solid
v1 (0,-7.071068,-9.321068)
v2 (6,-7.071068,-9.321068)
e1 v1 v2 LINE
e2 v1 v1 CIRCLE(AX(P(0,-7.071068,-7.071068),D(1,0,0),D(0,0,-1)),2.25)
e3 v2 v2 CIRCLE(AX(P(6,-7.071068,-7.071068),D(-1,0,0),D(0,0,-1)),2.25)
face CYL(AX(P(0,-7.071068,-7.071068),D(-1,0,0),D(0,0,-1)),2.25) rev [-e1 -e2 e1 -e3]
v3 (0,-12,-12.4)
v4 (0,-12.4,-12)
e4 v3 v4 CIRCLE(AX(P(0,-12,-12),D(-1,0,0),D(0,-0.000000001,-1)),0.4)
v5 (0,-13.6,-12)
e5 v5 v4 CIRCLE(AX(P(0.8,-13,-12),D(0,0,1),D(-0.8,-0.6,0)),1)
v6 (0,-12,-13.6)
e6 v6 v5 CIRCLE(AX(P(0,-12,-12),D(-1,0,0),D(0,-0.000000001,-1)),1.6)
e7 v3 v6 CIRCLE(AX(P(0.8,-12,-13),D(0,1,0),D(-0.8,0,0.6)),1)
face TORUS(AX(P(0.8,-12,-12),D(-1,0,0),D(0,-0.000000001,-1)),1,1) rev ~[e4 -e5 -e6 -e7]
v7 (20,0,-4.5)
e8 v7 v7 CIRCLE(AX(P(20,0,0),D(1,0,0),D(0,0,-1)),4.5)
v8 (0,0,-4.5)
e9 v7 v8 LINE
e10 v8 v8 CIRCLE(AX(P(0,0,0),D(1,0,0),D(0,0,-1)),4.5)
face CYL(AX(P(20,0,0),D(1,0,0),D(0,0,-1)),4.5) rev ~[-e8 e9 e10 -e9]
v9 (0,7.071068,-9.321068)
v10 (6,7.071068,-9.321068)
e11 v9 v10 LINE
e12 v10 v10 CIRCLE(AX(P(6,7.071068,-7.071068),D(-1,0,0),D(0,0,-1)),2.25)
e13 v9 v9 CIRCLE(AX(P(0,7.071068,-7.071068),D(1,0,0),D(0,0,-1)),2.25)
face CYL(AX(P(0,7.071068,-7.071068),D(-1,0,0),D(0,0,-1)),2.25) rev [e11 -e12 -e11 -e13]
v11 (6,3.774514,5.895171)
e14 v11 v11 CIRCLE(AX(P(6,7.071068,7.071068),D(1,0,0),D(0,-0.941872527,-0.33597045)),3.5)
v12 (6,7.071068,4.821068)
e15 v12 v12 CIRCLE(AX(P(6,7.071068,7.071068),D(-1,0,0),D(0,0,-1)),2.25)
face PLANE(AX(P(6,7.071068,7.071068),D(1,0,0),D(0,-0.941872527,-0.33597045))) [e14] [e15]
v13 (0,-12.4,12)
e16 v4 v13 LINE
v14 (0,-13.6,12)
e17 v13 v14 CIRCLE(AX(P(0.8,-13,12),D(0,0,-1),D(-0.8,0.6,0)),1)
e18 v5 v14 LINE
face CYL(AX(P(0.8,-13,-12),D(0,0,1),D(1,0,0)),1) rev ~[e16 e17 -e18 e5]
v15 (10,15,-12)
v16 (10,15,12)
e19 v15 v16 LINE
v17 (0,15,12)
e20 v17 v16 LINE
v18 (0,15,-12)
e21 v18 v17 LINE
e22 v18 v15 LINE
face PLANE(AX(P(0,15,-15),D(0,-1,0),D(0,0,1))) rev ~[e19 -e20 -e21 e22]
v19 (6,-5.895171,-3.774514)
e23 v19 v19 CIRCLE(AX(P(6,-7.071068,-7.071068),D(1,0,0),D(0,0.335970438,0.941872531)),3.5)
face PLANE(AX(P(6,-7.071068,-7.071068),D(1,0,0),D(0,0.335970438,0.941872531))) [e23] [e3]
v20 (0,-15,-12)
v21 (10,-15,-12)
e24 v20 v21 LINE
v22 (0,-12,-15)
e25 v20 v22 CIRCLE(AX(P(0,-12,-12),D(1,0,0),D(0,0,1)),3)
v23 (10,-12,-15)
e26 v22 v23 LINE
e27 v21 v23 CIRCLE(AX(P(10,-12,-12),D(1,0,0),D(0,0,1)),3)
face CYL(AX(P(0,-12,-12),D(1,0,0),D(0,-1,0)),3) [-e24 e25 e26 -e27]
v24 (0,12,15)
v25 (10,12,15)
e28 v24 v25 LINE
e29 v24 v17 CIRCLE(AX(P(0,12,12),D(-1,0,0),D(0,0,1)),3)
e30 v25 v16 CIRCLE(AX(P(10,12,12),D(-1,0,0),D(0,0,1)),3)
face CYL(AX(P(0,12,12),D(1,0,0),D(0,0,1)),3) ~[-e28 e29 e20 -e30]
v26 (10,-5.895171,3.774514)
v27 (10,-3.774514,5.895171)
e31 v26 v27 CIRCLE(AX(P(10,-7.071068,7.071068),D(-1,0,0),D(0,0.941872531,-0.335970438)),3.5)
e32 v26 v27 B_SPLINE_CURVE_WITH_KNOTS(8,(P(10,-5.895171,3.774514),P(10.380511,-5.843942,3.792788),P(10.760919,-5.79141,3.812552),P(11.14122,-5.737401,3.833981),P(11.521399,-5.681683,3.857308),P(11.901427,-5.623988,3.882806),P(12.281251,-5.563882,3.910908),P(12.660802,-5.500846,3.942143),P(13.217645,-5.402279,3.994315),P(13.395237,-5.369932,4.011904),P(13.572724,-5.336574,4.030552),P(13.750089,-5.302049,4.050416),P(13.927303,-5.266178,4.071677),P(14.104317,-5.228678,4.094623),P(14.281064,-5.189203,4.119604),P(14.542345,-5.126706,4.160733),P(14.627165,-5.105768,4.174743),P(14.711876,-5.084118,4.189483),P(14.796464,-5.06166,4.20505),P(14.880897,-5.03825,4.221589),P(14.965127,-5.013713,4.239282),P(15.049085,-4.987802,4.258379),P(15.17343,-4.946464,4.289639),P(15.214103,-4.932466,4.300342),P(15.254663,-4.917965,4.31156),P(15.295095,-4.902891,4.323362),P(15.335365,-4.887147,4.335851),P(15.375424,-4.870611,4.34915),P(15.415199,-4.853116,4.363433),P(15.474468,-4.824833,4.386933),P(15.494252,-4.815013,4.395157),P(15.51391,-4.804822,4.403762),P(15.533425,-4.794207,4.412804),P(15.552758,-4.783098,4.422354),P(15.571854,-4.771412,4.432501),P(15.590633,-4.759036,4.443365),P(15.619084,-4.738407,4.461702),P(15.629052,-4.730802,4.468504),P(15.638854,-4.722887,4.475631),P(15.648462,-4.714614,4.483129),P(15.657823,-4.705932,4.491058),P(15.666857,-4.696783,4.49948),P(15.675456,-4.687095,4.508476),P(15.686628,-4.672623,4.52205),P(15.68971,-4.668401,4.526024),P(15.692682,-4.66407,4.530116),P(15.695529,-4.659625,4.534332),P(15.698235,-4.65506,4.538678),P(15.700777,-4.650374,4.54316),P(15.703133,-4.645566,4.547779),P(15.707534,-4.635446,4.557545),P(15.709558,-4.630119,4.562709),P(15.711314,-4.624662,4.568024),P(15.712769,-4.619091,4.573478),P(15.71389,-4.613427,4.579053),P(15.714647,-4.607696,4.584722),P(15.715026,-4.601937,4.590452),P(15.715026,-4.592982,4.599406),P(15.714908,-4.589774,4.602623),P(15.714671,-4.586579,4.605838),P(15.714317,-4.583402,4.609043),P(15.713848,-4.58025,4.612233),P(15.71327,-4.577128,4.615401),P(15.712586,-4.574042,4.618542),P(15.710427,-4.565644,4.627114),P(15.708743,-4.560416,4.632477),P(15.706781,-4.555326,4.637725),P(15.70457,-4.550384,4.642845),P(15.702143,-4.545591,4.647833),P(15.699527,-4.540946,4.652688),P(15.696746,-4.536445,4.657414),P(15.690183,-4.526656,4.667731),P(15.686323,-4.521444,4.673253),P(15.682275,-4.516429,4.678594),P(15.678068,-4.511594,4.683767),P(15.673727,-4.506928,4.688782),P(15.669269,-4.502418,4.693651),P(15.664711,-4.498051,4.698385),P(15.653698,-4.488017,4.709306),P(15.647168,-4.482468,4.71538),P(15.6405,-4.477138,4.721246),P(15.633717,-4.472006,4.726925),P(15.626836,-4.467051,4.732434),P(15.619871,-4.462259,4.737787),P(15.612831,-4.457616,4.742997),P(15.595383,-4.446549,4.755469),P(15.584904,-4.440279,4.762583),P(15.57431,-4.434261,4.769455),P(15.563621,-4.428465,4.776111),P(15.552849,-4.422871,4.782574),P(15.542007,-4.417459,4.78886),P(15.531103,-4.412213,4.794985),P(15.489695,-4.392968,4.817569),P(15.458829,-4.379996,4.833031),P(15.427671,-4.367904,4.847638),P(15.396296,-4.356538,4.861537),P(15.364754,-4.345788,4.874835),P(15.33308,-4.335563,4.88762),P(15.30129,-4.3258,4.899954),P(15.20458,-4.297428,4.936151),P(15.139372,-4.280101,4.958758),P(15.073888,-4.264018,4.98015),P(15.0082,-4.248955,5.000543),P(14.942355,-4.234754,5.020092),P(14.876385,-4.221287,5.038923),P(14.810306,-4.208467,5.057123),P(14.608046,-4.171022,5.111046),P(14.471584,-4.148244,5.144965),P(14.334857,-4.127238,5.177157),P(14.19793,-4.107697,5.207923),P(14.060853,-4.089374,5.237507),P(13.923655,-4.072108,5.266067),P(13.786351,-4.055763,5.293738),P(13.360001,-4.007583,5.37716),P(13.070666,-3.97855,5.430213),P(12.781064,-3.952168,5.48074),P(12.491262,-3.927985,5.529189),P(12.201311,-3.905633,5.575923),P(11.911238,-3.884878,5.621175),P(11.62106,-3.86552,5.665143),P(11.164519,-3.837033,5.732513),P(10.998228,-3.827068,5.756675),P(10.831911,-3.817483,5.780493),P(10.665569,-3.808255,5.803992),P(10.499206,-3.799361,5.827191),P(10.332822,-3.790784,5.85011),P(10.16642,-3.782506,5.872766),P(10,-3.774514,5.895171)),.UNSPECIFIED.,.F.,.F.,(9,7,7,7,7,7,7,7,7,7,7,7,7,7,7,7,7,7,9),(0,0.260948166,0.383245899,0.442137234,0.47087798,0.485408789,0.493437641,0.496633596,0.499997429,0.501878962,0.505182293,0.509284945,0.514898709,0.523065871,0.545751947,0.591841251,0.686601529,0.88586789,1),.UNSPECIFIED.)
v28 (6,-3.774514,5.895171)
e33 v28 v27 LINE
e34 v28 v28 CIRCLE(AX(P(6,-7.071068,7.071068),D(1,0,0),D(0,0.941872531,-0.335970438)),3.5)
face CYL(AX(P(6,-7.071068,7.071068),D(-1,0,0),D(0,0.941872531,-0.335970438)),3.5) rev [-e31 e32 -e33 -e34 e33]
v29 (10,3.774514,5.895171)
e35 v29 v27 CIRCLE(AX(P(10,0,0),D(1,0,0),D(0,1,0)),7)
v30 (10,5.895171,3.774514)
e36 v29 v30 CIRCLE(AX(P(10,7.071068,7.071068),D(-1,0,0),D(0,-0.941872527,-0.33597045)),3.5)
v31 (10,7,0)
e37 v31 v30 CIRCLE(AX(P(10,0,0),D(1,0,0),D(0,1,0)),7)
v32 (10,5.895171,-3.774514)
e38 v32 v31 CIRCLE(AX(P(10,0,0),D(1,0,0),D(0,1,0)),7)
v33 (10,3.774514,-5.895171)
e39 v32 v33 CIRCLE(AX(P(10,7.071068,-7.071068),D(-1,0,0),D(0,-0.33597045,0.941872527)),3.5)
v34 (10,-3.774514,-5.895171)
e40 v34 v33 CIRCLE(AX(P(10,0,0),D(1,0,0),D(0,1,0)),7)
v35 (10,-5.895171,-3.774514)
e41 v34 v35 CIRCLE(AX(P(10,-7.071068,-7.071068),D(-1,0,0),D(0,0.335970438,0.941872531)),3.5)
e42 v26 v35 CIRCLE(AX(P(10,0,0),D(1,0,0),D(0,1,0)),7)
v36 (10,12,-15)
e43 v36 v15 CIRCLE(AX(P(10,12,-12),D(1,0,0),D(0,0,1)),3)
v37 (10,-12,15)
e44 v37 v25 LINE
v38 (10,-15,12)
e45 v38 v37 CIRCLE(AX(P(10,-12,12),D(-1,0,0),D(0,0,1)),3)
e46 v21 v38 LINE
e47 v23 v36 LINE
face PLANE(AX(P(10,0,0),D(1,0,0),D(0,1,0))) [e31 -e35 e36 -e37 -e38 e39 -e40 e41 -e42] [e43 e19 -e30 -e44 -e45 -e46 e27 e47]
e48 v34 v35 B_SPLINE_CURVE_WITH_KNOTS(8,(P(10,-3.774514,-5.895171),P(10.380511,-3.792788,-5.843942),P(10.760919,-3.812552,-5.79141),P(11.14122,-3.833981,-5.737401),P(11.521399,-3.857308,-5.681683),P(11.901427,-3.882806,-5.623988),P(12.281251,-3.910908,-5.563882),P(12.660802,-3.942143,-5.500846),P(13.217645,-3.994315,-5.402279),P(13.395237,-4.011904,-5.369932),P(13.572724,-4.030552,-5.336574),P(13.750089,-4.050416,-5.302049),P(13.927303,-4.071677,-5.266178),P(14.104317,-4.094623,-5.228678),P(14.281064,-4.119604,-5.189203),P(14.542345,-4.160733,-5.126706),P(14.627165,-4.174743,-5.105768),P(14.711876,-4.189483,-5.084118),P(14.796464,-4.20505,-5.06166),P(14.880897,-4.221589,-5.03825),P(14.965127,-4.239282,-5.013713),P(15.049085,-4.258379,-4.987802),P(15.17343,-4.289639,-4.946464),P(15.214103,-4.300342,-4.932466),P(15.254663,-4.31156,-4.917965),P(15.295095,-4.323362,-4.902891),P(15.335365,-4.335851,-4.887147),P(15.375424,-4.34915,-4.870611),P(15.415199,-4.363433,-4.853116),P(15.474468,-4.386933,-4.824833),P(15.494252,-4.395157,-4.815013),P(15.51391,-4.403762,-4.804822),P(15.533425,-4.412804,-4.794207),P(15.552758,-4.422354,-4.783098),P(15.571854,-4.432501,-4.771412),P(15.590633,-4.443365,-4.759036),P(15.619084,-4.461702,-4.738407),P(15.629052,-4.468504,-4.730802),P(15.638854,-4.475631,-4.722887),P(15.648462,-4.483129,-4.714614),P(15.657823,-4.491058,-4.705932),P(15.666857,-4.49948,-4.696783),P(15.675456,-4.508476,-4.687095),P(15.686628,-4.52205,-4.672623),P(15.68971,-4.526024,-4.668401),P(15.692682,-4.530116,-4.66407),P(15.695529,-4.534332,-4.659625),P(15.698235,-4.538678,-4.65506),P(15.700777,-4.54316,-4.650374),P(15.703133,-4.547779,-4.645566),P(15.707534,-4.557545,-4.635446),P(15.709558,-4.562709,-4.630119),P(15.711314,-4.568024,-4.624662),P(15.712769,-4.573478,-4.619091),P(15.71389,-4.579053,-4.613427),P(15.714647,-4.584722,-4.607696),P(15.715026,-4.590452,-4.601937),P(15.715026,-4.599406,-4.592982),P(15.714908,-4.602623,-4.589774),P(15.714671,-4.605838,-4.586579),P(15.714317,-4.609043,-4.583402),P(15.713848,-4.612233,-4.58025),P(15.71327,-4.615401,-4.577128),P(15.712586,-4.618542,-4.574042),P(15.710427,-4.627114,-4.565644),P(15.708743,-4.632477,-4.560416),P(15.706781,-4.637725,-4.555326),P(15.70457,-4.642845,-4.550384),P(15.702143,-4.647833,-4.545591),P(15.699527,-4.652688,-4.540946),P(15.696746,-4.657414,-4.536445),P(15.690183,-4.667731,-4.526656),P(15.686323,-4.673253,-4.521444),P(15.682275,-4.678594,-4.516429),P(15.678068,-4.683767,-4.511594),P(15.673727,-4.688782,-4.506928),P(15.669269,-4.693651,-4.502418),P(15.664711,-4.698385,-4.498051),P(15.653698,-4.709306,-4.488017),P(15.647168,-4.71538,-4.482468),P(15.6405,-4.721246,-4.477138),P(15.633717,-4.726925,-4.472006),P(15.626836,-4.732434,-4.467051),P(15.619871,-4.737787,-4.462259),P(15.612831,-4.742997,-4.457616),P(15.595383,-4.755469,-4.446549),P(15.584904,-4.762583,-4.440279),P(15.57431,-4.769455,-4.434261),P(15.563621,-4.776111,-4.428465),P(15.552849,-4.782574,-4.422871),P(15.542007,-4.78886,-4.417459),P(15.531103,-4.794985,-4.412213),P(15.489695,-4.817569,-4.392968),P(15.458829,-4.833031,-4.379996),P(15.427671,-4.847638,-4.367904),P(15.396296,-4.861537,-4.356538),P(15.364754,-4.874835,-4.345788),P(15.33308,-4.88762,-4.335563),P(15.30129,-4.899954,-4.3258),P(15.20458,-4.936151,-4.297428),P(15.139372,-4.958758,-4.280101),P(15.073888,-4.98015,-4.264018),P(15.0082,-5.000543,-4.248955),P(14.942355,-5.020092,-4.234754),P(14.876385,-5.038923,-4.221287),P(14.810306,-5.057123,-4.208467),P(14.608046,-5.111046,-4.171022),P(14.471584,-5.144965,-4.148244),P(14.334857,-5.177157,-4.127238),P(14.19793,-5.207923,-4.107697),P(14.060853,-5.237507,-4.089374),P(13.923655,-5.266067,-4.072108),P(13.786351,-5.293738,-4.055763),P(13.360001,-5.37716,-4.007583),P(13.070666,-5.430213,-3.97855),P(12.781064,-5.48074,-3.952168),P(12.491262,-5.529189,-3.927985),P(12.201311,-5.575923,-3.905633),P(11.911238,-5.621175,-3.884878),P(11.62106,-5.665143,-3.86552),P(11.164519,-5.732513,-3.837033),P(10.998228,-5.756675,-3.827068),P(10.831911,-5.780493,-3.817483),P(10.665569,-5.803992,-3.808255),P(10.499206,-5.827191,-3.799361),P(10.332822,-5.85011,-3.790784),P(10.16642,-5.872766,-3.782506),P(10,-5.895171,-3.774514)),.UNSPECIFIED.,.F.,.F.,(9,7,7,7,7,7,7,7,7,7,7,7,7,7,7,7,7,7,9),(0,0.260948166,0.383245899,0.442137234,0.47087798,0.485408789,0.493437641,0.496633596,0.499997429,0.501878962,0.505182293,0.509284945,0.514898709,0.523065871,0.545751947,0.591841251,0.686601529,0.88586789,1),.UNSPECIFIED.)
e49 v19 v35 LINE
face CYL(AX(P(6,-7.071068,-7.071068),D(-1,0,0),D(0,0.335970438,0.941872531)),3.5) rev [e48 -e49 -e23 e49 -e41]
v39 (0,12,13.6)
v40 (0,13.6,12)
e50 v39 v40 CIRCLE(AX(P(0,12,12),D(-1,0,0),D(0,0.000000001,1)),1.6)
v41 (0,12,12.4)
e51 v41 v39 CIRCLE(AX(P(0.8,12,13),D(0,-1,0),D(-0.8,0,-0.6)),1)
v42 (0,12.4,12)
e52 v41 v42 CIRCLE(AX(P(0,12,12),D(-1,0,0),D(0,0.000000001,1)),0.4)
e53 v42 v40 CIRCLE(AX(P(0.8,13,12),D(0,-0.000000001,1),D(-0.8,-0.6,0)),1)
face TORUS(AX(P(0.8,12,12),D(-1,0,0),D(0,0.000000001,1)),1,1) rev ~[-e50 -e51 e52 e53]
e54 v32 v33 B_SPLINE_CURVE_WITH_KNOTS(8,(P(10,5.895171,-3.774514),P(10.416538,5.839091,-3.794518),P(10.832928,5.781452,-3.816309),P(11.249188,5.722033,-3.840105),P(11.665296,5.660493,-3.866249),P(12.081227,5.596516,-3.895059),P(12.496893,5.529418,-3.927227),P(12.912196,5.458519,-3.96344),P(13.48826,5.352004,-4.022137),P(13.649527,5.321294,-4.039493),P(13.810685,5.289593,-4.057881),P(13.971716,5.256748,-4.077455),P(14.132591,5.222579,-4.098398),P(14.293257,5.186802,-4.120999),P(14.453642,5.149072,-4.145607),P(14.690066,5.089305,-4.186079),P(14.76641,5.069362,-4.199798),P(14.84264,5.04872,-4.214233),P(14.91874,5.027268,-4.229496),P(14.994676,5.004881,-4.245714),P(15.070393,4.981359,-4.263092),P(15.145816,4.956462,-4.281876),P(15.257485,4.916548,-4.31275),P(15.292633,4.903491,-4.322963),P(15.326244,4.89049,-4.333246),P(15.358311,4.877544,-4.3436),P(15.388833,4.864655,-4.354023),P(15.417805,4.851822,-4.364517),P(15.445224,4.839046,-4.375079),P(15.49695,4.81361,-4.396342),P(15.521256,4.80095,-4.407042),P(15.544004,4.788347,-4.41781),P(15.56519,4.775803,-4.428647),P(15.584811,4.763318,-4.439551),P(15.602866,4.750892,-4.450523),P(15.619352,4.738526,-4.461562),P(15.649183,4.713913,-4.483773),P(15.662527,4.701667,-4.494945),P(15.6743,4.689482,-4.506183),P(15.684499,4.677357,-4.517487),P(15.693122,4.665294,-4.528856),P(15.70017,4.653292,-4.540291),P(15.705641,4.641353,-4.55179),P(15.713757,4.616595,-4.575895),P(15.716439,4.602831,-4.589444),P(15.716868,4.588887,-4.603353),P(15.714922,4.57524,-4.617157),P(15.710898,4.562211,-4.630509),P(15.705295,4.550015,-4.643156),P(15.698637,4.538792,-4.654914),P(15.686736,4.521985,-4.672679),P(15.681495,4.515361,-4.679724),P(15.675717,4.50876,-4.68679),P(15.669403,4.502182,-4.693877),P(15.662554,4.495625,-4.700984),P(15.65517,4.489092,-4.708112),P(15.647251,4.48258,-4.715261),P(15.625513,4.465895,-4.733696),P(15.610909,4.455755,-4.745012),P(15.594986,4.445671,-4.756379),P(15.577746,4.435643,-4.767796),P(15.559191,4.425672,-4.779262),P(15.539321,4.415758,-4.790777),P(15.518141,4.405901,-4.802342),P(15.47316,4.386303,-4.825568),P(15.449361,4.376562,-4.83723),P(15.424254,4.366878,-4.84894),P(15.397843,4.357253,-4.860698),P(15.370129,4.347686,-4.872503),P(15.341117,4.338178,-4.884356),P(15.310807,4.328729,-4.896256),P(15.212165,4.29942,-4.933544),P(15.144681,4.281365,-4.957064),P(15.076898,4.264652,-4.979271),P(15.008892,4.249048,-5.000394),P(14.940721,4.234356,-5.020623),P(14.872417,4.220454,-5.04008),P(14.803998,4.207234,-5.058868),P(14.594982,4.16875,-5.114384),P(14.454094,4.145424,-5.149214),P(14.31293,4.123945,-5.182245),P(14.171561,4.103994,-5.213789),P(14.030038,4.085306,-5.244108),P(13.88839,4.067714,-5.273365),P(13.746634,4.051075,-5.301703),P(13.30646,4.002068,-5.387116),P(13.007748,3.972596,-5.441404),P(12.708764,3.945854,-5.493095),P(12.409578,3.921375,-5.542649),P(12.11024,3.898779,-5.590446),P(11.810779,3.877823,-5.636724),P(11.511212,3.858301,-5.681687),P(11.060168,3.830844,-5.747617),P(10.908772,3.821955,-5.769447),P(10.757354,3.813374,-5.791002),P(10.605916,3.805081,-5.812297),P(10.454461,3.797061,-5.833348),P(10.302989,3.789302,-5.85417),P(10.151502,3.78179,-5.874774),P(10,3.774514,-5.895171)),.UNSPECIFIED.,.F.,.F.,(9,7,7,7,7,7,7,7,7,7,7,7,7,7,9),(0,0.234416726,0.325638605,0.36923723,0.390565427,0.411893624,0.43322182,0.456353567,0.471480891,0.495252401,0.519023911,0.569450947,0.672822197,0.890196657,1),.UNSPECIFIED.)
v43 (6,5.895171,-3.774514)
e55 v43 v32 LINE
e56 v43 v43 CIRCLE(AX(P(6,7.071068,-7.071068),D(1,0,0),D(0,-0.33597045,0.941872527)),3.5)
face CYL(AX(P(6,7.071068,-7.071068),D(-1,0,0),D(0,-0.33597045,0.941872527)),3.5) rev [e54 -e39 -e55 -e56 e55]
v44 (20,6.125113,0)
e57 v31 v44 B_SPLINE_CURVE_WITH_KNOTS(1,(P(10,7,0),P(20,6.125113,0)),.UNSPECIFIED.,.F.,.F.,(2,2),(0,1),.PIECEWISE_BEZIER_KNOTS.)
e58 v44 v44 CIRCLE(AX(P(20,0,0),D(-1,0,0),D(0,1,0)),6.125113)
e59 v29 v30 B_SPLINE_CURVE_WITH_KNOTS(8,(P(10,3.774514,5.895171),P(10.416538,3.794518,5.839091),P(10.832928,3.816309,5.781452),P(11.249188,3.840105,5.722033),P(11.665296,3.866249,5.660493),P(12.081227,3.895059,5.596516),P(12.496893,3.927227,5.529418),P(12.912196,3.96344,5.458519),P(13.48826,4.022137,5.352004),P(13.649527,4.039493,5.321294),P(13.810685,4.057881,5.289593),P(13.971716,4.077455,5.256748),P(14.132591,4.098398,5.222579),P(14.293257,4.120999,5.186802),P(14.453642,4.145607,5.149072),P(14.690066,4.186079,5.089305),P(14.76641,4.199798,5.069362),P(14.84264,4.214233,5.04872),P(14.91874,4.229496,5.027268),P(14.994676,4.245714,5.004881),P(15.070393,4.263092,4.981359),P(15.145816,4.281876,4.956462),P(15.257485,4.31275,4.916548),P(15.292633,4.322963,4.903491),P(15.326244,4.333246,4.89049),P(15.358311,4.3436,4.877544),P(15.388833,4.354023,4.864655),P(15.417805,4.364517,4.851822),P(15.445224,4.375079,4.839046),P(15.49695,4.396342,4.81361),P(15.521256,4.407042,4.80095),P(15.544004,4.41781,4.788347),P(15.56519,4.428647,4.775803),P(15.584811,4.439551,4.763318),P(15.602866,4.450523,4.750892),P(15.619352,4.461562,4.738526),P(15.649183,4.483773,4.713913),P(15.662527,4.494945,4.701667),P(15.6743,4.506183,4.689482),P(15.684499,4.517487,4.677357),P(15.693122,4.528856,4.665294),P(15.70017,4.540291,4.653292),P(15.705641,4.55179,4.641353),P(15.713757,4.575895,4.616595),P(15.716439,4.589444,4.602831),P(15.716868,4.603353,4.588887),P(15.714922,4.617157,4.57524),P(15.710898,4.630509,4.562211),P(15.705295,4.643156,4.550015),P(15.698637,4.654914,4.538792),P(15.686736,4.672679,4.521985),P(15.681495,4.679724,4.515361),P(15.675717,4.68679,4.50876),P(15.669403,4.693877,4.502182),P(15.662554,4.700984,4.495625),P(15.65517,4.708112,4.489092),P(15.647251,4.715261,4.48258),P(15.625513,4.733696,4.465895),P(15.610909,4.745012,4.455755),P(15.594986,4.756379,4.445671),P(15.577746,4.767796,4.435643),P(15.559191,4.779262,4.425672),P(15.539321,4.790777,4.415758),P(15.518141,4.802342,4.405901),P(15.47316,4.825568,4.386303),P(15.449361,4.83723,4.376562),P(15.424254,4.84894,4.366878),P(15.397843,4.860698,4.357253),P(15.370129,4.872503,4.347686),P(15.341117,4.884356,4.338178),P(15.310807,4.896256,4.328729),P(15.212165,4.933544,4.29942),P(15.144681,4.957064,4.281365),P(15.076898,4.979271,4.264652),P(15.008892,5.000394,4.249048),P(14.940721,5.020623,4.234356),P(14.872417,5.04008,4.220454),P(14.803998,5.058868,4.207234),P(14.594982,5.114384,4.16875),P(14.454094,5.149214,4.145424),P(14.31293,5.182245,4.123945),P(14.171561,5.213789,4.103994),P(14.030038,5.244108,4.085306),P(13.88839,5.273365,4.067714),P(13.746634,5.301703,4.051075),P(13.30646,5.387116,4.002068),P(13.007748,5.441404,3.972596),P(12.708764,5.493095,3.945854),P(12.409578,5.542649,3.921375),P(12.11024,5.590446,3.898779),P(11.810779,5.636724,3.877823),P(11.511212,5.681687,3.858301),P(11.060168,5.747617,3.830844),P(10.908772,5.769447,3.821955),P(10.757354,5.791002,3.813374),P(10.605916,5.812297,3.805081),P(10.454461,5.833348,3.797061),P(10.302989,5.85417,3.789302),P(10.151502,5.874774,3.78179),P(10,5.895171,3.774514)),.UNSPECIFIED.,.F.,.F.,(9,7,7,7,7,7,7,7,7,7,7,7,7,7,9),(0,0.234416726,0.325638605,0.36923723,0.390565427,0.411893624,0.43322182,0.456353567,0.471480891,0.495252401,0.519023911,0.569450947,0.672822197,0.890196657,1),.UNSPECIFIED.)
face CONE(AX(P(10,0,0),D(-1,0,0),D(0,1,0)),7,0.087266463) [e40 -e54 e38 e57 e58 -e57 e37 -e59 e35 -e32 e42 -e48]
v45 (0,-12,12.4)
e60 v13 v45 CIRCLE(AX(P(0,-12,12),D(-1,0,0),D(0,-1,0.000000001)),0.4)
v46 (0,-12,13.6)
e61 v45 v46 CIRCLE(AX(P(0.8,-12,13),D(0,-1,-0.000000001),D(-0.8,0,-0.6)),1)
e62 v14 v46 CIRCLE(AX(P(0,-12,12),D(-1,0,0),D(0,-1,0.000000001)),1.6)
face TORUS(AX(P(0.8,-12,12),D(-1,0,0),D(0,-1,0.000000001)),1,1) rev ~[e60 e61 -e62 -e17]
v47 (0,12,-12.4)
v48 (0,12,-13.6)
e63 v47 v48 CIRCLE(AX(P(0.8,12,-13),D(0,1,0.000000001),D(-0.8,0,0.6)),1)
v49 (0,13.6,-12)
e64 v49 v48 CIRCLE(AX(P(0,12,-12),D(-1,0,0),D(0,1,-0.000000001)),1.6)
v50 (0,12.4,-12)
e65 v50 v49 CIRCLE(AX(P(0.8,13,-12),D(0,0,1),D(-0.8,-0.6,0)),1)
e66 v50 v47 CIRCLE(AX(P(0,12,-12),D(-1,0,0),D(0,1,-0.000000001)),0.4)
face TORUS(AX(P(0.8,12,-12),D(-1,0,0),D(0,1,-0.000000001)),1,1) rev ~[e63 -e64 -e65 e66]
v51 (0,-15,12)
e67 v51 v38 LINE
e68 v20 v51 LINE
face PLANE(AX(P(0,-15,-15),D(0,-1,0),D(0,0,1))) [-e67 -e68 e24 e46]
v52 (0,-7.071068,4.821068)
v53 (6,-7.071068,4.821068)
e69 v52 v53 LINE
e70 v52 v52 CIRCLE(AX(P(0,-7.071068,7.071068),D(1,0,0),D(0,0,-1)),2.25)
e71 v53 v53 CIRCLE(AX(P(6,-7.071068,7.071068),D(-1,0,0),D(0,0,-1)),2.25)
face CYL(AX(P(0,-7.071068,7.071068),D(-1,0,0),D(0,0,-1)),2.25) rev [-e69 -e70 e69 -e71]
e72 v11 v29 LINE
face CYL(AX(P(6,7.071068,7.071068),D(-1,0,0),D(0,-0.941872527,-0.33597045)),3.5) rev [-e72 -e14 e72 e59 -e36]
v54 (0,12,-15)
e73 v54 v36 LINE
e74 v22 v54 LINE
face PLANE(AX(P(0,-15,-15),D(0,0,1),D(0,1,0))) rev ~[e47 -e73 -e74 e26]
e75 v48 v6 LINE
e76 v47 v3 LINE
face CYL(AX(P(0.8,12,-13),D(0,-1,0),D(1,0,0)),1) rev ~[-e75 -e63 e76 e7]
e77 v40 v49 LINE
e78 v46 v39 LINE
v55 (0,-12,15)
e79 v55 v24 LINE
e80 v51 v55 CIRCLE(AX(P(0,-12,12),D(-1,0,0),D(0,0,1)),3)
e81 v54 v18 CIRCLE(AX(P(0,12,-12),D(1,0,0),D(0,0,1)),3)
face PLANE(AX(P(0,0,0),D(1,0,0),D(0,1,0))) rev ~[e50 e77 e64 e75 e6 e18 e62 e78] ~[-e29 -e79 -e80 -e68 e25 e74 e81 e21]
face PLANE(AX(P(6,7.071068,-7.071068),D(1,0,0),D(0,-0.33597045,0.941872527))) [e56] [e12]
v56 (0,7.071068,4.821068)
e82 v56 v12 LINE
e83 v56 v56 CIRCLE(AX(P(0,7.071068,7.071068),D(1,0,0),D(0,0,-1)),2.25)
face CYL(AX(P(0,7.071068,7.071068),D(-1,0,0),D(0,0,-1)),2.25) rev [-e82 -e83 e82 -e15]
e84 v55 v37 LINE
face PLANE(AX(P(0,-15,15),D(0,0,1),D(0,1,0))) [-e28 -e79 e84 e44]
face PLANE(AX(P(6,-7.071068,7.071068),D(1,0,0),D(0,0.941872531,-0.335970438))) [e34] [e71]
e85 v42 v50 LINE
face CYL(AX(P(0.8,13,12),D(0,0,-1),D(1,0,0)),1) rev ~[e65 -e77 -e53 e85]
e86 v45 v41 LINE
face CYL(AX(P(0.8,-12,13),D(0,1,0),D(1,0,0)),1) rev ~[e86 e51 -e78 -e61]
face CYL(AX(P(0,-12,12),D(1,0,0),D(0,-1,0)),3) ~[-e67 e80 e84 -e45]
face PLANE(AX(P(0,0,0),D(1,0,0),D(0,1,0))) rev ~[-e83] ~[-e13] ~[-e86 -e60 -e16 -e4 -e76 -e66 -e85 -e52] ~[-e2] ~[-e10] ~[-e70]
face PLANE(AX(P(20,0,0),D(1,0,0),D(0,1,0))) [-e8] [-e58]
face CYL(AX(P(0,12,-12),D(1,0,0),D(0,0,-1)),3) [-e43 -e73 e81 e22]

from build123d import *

# Parameters (mm, degrees)
IZIM1_W                     = 30
IZIM1_H                     = 30
IZIM1_R                     = 2.25
Y_KSEKLIK_EKSTR_ZYON1_DEPTH = 10
RADYUS1_R                   = 3
IZIM2_R                     = 7
Y_KSEKLIK_EKSTR_ZYON2_DEPTH = 10
Y_KSEKLIK_EKSTR_ZYON2_TAPER = 5
IZIM3_R                     = 4.5
KES_EKSTR_ZYON1_DEPTH       = 30.154759474
KES_S_P_R2_PROFILE_R        = 1
KES_EKSTR_ZYON2_DEPTH       = 24.452078842
KES_EKSTR_ZYON2_DEPTH_BACK  = 4
IZIM34_R                    = 3.5


with BuildPart() as part:
    # Çizim1 → Yükseklik-Ekstrüzyon1 (new body)
    with BuildSketch(Plane.YZ):
        Rectangle(IZIM1_W, IZIM1_H)
        with Locations(Location((-7.071067812, 7.071067812, 0), (0, 0, 270))):
            Circle(IZIM1_R, mode=Mode.SUBTRACT)
        with Locations(Location((7.071067812, 7.071067812, 0), (0, 0, 270))):
            Circle(IZIM1_R, mode=Mode.SUBTRACT)
        with Locations(Location((7.071067812, -7.071067812, 0), (0, 0, 270))):
            Circle(IZIM1_R, mode=Mode.SUBTRACT)
        with Locations(Location((-7.071067812, -7.071067812, 0), (0, 0, 270))):
            Circle(IZIM1_R, mode=Mode.SUBTRACT)
    extrude(amount=Y_KSEKLIK_EKSTR_ZYON1_DEPTH)

    # Radyus1
    radyus1_edges = [part.edges().sort_by_distance(p)[0] for p in [
        (5, -15, 15),
        (5, 15, 15),
        (5, 15, -15),
        (5, -15, -15),
    ]]
    fillet(radyus1_edges, radius=RADYUS1_R)

    # Çizim2 → Yükseklik-Ekstrüzyon2 (add)
    with BuildSketch(Plane.YZ.offset(10)):
        Circle(IZIM2_R)
    extrude(amount=Y_KSEKLIK_EKSTR_ZYON2_DEPTH, taper=Y_KSEKLIK_EKSTR_ZYON2_TAPER)

    # Çizim3 → Kes-Ekstrüzyon1 (cut, through all)
    with BuildSketch(Plane.YZ.offset(20)):
        with Locations(Location((0, 0, 0), (0, 0, 270))):
            Circle(IZIM3_R)
    extrude(amount=-KES_EKSTR_ZYON1_DEPTH, mode=Mode.SUBTRACT)

    # Kes-Süpür2: sweep along a path in Çizim4
    with BuildLine(Plane(origin=(0.8, 0, 0), x_dir=(0, -1, 0), z_dir=(-1, 0, 0))) as kes_s_p_r2_path:
        Line((13, -12), (13, 12))
        ThreePointArc((13, 12), (12.707106781, 12.707106781), (12, 13))
        Line((12, 13), (-12, 13))
        ThreePointArc((-12, 13), (-12.707106781, 12.707106781), (-13, 12))
        Line((-13, 12), (-13, -12))
        ThreePointArc((-13, -12), (-12.707106781, -12.707106781), (-12, -13))
        Line((-12, -13), (12, -13))
        ThreePointArc((12, -13), (12.707106781, -12.707106781), (13, -12))
    # Kes-Süpür2 profile (on start of the path) → Kes-Süpür2 (sweep, cut)
    with BuildSketch(Plane(origin=(0.8, -13, -12), x_dir=(1, 0, 0), z_dir=(0, 0, 1))):
        Circle(KES_S_P_R2_PROFILE_R)
    sweep(path=kes_s_p_r2_path.line, mode=Mode.SUBTRACT)

    # Çizim34 → Kes-Ekstrüzyon2 (cut, two sides: drawn at the far end of the back side and taken through both)
    with BuildSketch(Plane.YZ.offset(10).offset(-KES_EKSTR_ZYON2_DEPTH_BACK)):
        with Locations(Location((-7.071067812, 7.071067812, 0), (0, 0, 340.368439442))):
            Circle(IZIM34_R)
        with Locations(Location((7.071067812, 7.071067812, 0), (0, 0, 199.631561315))):
            Circle(IZIM34_R)
        with Locations(Location((7.071067812, -7.071067812, 0), (0, 0, 109.631561315))):
            Circle(IZIM34_R)
        with Locations(Location((-7.071067812, -7.071067812, 0), (0, 0, 70.368439442))):
            Circle(IZIM34_R)
    extrude(amount=KES_EKSTR_ZYON2_DEPTH + KES_EKSTR_ZYON2_DEPTH_BACK, mode=Mode.SUBTRACT)


solid = part.part
